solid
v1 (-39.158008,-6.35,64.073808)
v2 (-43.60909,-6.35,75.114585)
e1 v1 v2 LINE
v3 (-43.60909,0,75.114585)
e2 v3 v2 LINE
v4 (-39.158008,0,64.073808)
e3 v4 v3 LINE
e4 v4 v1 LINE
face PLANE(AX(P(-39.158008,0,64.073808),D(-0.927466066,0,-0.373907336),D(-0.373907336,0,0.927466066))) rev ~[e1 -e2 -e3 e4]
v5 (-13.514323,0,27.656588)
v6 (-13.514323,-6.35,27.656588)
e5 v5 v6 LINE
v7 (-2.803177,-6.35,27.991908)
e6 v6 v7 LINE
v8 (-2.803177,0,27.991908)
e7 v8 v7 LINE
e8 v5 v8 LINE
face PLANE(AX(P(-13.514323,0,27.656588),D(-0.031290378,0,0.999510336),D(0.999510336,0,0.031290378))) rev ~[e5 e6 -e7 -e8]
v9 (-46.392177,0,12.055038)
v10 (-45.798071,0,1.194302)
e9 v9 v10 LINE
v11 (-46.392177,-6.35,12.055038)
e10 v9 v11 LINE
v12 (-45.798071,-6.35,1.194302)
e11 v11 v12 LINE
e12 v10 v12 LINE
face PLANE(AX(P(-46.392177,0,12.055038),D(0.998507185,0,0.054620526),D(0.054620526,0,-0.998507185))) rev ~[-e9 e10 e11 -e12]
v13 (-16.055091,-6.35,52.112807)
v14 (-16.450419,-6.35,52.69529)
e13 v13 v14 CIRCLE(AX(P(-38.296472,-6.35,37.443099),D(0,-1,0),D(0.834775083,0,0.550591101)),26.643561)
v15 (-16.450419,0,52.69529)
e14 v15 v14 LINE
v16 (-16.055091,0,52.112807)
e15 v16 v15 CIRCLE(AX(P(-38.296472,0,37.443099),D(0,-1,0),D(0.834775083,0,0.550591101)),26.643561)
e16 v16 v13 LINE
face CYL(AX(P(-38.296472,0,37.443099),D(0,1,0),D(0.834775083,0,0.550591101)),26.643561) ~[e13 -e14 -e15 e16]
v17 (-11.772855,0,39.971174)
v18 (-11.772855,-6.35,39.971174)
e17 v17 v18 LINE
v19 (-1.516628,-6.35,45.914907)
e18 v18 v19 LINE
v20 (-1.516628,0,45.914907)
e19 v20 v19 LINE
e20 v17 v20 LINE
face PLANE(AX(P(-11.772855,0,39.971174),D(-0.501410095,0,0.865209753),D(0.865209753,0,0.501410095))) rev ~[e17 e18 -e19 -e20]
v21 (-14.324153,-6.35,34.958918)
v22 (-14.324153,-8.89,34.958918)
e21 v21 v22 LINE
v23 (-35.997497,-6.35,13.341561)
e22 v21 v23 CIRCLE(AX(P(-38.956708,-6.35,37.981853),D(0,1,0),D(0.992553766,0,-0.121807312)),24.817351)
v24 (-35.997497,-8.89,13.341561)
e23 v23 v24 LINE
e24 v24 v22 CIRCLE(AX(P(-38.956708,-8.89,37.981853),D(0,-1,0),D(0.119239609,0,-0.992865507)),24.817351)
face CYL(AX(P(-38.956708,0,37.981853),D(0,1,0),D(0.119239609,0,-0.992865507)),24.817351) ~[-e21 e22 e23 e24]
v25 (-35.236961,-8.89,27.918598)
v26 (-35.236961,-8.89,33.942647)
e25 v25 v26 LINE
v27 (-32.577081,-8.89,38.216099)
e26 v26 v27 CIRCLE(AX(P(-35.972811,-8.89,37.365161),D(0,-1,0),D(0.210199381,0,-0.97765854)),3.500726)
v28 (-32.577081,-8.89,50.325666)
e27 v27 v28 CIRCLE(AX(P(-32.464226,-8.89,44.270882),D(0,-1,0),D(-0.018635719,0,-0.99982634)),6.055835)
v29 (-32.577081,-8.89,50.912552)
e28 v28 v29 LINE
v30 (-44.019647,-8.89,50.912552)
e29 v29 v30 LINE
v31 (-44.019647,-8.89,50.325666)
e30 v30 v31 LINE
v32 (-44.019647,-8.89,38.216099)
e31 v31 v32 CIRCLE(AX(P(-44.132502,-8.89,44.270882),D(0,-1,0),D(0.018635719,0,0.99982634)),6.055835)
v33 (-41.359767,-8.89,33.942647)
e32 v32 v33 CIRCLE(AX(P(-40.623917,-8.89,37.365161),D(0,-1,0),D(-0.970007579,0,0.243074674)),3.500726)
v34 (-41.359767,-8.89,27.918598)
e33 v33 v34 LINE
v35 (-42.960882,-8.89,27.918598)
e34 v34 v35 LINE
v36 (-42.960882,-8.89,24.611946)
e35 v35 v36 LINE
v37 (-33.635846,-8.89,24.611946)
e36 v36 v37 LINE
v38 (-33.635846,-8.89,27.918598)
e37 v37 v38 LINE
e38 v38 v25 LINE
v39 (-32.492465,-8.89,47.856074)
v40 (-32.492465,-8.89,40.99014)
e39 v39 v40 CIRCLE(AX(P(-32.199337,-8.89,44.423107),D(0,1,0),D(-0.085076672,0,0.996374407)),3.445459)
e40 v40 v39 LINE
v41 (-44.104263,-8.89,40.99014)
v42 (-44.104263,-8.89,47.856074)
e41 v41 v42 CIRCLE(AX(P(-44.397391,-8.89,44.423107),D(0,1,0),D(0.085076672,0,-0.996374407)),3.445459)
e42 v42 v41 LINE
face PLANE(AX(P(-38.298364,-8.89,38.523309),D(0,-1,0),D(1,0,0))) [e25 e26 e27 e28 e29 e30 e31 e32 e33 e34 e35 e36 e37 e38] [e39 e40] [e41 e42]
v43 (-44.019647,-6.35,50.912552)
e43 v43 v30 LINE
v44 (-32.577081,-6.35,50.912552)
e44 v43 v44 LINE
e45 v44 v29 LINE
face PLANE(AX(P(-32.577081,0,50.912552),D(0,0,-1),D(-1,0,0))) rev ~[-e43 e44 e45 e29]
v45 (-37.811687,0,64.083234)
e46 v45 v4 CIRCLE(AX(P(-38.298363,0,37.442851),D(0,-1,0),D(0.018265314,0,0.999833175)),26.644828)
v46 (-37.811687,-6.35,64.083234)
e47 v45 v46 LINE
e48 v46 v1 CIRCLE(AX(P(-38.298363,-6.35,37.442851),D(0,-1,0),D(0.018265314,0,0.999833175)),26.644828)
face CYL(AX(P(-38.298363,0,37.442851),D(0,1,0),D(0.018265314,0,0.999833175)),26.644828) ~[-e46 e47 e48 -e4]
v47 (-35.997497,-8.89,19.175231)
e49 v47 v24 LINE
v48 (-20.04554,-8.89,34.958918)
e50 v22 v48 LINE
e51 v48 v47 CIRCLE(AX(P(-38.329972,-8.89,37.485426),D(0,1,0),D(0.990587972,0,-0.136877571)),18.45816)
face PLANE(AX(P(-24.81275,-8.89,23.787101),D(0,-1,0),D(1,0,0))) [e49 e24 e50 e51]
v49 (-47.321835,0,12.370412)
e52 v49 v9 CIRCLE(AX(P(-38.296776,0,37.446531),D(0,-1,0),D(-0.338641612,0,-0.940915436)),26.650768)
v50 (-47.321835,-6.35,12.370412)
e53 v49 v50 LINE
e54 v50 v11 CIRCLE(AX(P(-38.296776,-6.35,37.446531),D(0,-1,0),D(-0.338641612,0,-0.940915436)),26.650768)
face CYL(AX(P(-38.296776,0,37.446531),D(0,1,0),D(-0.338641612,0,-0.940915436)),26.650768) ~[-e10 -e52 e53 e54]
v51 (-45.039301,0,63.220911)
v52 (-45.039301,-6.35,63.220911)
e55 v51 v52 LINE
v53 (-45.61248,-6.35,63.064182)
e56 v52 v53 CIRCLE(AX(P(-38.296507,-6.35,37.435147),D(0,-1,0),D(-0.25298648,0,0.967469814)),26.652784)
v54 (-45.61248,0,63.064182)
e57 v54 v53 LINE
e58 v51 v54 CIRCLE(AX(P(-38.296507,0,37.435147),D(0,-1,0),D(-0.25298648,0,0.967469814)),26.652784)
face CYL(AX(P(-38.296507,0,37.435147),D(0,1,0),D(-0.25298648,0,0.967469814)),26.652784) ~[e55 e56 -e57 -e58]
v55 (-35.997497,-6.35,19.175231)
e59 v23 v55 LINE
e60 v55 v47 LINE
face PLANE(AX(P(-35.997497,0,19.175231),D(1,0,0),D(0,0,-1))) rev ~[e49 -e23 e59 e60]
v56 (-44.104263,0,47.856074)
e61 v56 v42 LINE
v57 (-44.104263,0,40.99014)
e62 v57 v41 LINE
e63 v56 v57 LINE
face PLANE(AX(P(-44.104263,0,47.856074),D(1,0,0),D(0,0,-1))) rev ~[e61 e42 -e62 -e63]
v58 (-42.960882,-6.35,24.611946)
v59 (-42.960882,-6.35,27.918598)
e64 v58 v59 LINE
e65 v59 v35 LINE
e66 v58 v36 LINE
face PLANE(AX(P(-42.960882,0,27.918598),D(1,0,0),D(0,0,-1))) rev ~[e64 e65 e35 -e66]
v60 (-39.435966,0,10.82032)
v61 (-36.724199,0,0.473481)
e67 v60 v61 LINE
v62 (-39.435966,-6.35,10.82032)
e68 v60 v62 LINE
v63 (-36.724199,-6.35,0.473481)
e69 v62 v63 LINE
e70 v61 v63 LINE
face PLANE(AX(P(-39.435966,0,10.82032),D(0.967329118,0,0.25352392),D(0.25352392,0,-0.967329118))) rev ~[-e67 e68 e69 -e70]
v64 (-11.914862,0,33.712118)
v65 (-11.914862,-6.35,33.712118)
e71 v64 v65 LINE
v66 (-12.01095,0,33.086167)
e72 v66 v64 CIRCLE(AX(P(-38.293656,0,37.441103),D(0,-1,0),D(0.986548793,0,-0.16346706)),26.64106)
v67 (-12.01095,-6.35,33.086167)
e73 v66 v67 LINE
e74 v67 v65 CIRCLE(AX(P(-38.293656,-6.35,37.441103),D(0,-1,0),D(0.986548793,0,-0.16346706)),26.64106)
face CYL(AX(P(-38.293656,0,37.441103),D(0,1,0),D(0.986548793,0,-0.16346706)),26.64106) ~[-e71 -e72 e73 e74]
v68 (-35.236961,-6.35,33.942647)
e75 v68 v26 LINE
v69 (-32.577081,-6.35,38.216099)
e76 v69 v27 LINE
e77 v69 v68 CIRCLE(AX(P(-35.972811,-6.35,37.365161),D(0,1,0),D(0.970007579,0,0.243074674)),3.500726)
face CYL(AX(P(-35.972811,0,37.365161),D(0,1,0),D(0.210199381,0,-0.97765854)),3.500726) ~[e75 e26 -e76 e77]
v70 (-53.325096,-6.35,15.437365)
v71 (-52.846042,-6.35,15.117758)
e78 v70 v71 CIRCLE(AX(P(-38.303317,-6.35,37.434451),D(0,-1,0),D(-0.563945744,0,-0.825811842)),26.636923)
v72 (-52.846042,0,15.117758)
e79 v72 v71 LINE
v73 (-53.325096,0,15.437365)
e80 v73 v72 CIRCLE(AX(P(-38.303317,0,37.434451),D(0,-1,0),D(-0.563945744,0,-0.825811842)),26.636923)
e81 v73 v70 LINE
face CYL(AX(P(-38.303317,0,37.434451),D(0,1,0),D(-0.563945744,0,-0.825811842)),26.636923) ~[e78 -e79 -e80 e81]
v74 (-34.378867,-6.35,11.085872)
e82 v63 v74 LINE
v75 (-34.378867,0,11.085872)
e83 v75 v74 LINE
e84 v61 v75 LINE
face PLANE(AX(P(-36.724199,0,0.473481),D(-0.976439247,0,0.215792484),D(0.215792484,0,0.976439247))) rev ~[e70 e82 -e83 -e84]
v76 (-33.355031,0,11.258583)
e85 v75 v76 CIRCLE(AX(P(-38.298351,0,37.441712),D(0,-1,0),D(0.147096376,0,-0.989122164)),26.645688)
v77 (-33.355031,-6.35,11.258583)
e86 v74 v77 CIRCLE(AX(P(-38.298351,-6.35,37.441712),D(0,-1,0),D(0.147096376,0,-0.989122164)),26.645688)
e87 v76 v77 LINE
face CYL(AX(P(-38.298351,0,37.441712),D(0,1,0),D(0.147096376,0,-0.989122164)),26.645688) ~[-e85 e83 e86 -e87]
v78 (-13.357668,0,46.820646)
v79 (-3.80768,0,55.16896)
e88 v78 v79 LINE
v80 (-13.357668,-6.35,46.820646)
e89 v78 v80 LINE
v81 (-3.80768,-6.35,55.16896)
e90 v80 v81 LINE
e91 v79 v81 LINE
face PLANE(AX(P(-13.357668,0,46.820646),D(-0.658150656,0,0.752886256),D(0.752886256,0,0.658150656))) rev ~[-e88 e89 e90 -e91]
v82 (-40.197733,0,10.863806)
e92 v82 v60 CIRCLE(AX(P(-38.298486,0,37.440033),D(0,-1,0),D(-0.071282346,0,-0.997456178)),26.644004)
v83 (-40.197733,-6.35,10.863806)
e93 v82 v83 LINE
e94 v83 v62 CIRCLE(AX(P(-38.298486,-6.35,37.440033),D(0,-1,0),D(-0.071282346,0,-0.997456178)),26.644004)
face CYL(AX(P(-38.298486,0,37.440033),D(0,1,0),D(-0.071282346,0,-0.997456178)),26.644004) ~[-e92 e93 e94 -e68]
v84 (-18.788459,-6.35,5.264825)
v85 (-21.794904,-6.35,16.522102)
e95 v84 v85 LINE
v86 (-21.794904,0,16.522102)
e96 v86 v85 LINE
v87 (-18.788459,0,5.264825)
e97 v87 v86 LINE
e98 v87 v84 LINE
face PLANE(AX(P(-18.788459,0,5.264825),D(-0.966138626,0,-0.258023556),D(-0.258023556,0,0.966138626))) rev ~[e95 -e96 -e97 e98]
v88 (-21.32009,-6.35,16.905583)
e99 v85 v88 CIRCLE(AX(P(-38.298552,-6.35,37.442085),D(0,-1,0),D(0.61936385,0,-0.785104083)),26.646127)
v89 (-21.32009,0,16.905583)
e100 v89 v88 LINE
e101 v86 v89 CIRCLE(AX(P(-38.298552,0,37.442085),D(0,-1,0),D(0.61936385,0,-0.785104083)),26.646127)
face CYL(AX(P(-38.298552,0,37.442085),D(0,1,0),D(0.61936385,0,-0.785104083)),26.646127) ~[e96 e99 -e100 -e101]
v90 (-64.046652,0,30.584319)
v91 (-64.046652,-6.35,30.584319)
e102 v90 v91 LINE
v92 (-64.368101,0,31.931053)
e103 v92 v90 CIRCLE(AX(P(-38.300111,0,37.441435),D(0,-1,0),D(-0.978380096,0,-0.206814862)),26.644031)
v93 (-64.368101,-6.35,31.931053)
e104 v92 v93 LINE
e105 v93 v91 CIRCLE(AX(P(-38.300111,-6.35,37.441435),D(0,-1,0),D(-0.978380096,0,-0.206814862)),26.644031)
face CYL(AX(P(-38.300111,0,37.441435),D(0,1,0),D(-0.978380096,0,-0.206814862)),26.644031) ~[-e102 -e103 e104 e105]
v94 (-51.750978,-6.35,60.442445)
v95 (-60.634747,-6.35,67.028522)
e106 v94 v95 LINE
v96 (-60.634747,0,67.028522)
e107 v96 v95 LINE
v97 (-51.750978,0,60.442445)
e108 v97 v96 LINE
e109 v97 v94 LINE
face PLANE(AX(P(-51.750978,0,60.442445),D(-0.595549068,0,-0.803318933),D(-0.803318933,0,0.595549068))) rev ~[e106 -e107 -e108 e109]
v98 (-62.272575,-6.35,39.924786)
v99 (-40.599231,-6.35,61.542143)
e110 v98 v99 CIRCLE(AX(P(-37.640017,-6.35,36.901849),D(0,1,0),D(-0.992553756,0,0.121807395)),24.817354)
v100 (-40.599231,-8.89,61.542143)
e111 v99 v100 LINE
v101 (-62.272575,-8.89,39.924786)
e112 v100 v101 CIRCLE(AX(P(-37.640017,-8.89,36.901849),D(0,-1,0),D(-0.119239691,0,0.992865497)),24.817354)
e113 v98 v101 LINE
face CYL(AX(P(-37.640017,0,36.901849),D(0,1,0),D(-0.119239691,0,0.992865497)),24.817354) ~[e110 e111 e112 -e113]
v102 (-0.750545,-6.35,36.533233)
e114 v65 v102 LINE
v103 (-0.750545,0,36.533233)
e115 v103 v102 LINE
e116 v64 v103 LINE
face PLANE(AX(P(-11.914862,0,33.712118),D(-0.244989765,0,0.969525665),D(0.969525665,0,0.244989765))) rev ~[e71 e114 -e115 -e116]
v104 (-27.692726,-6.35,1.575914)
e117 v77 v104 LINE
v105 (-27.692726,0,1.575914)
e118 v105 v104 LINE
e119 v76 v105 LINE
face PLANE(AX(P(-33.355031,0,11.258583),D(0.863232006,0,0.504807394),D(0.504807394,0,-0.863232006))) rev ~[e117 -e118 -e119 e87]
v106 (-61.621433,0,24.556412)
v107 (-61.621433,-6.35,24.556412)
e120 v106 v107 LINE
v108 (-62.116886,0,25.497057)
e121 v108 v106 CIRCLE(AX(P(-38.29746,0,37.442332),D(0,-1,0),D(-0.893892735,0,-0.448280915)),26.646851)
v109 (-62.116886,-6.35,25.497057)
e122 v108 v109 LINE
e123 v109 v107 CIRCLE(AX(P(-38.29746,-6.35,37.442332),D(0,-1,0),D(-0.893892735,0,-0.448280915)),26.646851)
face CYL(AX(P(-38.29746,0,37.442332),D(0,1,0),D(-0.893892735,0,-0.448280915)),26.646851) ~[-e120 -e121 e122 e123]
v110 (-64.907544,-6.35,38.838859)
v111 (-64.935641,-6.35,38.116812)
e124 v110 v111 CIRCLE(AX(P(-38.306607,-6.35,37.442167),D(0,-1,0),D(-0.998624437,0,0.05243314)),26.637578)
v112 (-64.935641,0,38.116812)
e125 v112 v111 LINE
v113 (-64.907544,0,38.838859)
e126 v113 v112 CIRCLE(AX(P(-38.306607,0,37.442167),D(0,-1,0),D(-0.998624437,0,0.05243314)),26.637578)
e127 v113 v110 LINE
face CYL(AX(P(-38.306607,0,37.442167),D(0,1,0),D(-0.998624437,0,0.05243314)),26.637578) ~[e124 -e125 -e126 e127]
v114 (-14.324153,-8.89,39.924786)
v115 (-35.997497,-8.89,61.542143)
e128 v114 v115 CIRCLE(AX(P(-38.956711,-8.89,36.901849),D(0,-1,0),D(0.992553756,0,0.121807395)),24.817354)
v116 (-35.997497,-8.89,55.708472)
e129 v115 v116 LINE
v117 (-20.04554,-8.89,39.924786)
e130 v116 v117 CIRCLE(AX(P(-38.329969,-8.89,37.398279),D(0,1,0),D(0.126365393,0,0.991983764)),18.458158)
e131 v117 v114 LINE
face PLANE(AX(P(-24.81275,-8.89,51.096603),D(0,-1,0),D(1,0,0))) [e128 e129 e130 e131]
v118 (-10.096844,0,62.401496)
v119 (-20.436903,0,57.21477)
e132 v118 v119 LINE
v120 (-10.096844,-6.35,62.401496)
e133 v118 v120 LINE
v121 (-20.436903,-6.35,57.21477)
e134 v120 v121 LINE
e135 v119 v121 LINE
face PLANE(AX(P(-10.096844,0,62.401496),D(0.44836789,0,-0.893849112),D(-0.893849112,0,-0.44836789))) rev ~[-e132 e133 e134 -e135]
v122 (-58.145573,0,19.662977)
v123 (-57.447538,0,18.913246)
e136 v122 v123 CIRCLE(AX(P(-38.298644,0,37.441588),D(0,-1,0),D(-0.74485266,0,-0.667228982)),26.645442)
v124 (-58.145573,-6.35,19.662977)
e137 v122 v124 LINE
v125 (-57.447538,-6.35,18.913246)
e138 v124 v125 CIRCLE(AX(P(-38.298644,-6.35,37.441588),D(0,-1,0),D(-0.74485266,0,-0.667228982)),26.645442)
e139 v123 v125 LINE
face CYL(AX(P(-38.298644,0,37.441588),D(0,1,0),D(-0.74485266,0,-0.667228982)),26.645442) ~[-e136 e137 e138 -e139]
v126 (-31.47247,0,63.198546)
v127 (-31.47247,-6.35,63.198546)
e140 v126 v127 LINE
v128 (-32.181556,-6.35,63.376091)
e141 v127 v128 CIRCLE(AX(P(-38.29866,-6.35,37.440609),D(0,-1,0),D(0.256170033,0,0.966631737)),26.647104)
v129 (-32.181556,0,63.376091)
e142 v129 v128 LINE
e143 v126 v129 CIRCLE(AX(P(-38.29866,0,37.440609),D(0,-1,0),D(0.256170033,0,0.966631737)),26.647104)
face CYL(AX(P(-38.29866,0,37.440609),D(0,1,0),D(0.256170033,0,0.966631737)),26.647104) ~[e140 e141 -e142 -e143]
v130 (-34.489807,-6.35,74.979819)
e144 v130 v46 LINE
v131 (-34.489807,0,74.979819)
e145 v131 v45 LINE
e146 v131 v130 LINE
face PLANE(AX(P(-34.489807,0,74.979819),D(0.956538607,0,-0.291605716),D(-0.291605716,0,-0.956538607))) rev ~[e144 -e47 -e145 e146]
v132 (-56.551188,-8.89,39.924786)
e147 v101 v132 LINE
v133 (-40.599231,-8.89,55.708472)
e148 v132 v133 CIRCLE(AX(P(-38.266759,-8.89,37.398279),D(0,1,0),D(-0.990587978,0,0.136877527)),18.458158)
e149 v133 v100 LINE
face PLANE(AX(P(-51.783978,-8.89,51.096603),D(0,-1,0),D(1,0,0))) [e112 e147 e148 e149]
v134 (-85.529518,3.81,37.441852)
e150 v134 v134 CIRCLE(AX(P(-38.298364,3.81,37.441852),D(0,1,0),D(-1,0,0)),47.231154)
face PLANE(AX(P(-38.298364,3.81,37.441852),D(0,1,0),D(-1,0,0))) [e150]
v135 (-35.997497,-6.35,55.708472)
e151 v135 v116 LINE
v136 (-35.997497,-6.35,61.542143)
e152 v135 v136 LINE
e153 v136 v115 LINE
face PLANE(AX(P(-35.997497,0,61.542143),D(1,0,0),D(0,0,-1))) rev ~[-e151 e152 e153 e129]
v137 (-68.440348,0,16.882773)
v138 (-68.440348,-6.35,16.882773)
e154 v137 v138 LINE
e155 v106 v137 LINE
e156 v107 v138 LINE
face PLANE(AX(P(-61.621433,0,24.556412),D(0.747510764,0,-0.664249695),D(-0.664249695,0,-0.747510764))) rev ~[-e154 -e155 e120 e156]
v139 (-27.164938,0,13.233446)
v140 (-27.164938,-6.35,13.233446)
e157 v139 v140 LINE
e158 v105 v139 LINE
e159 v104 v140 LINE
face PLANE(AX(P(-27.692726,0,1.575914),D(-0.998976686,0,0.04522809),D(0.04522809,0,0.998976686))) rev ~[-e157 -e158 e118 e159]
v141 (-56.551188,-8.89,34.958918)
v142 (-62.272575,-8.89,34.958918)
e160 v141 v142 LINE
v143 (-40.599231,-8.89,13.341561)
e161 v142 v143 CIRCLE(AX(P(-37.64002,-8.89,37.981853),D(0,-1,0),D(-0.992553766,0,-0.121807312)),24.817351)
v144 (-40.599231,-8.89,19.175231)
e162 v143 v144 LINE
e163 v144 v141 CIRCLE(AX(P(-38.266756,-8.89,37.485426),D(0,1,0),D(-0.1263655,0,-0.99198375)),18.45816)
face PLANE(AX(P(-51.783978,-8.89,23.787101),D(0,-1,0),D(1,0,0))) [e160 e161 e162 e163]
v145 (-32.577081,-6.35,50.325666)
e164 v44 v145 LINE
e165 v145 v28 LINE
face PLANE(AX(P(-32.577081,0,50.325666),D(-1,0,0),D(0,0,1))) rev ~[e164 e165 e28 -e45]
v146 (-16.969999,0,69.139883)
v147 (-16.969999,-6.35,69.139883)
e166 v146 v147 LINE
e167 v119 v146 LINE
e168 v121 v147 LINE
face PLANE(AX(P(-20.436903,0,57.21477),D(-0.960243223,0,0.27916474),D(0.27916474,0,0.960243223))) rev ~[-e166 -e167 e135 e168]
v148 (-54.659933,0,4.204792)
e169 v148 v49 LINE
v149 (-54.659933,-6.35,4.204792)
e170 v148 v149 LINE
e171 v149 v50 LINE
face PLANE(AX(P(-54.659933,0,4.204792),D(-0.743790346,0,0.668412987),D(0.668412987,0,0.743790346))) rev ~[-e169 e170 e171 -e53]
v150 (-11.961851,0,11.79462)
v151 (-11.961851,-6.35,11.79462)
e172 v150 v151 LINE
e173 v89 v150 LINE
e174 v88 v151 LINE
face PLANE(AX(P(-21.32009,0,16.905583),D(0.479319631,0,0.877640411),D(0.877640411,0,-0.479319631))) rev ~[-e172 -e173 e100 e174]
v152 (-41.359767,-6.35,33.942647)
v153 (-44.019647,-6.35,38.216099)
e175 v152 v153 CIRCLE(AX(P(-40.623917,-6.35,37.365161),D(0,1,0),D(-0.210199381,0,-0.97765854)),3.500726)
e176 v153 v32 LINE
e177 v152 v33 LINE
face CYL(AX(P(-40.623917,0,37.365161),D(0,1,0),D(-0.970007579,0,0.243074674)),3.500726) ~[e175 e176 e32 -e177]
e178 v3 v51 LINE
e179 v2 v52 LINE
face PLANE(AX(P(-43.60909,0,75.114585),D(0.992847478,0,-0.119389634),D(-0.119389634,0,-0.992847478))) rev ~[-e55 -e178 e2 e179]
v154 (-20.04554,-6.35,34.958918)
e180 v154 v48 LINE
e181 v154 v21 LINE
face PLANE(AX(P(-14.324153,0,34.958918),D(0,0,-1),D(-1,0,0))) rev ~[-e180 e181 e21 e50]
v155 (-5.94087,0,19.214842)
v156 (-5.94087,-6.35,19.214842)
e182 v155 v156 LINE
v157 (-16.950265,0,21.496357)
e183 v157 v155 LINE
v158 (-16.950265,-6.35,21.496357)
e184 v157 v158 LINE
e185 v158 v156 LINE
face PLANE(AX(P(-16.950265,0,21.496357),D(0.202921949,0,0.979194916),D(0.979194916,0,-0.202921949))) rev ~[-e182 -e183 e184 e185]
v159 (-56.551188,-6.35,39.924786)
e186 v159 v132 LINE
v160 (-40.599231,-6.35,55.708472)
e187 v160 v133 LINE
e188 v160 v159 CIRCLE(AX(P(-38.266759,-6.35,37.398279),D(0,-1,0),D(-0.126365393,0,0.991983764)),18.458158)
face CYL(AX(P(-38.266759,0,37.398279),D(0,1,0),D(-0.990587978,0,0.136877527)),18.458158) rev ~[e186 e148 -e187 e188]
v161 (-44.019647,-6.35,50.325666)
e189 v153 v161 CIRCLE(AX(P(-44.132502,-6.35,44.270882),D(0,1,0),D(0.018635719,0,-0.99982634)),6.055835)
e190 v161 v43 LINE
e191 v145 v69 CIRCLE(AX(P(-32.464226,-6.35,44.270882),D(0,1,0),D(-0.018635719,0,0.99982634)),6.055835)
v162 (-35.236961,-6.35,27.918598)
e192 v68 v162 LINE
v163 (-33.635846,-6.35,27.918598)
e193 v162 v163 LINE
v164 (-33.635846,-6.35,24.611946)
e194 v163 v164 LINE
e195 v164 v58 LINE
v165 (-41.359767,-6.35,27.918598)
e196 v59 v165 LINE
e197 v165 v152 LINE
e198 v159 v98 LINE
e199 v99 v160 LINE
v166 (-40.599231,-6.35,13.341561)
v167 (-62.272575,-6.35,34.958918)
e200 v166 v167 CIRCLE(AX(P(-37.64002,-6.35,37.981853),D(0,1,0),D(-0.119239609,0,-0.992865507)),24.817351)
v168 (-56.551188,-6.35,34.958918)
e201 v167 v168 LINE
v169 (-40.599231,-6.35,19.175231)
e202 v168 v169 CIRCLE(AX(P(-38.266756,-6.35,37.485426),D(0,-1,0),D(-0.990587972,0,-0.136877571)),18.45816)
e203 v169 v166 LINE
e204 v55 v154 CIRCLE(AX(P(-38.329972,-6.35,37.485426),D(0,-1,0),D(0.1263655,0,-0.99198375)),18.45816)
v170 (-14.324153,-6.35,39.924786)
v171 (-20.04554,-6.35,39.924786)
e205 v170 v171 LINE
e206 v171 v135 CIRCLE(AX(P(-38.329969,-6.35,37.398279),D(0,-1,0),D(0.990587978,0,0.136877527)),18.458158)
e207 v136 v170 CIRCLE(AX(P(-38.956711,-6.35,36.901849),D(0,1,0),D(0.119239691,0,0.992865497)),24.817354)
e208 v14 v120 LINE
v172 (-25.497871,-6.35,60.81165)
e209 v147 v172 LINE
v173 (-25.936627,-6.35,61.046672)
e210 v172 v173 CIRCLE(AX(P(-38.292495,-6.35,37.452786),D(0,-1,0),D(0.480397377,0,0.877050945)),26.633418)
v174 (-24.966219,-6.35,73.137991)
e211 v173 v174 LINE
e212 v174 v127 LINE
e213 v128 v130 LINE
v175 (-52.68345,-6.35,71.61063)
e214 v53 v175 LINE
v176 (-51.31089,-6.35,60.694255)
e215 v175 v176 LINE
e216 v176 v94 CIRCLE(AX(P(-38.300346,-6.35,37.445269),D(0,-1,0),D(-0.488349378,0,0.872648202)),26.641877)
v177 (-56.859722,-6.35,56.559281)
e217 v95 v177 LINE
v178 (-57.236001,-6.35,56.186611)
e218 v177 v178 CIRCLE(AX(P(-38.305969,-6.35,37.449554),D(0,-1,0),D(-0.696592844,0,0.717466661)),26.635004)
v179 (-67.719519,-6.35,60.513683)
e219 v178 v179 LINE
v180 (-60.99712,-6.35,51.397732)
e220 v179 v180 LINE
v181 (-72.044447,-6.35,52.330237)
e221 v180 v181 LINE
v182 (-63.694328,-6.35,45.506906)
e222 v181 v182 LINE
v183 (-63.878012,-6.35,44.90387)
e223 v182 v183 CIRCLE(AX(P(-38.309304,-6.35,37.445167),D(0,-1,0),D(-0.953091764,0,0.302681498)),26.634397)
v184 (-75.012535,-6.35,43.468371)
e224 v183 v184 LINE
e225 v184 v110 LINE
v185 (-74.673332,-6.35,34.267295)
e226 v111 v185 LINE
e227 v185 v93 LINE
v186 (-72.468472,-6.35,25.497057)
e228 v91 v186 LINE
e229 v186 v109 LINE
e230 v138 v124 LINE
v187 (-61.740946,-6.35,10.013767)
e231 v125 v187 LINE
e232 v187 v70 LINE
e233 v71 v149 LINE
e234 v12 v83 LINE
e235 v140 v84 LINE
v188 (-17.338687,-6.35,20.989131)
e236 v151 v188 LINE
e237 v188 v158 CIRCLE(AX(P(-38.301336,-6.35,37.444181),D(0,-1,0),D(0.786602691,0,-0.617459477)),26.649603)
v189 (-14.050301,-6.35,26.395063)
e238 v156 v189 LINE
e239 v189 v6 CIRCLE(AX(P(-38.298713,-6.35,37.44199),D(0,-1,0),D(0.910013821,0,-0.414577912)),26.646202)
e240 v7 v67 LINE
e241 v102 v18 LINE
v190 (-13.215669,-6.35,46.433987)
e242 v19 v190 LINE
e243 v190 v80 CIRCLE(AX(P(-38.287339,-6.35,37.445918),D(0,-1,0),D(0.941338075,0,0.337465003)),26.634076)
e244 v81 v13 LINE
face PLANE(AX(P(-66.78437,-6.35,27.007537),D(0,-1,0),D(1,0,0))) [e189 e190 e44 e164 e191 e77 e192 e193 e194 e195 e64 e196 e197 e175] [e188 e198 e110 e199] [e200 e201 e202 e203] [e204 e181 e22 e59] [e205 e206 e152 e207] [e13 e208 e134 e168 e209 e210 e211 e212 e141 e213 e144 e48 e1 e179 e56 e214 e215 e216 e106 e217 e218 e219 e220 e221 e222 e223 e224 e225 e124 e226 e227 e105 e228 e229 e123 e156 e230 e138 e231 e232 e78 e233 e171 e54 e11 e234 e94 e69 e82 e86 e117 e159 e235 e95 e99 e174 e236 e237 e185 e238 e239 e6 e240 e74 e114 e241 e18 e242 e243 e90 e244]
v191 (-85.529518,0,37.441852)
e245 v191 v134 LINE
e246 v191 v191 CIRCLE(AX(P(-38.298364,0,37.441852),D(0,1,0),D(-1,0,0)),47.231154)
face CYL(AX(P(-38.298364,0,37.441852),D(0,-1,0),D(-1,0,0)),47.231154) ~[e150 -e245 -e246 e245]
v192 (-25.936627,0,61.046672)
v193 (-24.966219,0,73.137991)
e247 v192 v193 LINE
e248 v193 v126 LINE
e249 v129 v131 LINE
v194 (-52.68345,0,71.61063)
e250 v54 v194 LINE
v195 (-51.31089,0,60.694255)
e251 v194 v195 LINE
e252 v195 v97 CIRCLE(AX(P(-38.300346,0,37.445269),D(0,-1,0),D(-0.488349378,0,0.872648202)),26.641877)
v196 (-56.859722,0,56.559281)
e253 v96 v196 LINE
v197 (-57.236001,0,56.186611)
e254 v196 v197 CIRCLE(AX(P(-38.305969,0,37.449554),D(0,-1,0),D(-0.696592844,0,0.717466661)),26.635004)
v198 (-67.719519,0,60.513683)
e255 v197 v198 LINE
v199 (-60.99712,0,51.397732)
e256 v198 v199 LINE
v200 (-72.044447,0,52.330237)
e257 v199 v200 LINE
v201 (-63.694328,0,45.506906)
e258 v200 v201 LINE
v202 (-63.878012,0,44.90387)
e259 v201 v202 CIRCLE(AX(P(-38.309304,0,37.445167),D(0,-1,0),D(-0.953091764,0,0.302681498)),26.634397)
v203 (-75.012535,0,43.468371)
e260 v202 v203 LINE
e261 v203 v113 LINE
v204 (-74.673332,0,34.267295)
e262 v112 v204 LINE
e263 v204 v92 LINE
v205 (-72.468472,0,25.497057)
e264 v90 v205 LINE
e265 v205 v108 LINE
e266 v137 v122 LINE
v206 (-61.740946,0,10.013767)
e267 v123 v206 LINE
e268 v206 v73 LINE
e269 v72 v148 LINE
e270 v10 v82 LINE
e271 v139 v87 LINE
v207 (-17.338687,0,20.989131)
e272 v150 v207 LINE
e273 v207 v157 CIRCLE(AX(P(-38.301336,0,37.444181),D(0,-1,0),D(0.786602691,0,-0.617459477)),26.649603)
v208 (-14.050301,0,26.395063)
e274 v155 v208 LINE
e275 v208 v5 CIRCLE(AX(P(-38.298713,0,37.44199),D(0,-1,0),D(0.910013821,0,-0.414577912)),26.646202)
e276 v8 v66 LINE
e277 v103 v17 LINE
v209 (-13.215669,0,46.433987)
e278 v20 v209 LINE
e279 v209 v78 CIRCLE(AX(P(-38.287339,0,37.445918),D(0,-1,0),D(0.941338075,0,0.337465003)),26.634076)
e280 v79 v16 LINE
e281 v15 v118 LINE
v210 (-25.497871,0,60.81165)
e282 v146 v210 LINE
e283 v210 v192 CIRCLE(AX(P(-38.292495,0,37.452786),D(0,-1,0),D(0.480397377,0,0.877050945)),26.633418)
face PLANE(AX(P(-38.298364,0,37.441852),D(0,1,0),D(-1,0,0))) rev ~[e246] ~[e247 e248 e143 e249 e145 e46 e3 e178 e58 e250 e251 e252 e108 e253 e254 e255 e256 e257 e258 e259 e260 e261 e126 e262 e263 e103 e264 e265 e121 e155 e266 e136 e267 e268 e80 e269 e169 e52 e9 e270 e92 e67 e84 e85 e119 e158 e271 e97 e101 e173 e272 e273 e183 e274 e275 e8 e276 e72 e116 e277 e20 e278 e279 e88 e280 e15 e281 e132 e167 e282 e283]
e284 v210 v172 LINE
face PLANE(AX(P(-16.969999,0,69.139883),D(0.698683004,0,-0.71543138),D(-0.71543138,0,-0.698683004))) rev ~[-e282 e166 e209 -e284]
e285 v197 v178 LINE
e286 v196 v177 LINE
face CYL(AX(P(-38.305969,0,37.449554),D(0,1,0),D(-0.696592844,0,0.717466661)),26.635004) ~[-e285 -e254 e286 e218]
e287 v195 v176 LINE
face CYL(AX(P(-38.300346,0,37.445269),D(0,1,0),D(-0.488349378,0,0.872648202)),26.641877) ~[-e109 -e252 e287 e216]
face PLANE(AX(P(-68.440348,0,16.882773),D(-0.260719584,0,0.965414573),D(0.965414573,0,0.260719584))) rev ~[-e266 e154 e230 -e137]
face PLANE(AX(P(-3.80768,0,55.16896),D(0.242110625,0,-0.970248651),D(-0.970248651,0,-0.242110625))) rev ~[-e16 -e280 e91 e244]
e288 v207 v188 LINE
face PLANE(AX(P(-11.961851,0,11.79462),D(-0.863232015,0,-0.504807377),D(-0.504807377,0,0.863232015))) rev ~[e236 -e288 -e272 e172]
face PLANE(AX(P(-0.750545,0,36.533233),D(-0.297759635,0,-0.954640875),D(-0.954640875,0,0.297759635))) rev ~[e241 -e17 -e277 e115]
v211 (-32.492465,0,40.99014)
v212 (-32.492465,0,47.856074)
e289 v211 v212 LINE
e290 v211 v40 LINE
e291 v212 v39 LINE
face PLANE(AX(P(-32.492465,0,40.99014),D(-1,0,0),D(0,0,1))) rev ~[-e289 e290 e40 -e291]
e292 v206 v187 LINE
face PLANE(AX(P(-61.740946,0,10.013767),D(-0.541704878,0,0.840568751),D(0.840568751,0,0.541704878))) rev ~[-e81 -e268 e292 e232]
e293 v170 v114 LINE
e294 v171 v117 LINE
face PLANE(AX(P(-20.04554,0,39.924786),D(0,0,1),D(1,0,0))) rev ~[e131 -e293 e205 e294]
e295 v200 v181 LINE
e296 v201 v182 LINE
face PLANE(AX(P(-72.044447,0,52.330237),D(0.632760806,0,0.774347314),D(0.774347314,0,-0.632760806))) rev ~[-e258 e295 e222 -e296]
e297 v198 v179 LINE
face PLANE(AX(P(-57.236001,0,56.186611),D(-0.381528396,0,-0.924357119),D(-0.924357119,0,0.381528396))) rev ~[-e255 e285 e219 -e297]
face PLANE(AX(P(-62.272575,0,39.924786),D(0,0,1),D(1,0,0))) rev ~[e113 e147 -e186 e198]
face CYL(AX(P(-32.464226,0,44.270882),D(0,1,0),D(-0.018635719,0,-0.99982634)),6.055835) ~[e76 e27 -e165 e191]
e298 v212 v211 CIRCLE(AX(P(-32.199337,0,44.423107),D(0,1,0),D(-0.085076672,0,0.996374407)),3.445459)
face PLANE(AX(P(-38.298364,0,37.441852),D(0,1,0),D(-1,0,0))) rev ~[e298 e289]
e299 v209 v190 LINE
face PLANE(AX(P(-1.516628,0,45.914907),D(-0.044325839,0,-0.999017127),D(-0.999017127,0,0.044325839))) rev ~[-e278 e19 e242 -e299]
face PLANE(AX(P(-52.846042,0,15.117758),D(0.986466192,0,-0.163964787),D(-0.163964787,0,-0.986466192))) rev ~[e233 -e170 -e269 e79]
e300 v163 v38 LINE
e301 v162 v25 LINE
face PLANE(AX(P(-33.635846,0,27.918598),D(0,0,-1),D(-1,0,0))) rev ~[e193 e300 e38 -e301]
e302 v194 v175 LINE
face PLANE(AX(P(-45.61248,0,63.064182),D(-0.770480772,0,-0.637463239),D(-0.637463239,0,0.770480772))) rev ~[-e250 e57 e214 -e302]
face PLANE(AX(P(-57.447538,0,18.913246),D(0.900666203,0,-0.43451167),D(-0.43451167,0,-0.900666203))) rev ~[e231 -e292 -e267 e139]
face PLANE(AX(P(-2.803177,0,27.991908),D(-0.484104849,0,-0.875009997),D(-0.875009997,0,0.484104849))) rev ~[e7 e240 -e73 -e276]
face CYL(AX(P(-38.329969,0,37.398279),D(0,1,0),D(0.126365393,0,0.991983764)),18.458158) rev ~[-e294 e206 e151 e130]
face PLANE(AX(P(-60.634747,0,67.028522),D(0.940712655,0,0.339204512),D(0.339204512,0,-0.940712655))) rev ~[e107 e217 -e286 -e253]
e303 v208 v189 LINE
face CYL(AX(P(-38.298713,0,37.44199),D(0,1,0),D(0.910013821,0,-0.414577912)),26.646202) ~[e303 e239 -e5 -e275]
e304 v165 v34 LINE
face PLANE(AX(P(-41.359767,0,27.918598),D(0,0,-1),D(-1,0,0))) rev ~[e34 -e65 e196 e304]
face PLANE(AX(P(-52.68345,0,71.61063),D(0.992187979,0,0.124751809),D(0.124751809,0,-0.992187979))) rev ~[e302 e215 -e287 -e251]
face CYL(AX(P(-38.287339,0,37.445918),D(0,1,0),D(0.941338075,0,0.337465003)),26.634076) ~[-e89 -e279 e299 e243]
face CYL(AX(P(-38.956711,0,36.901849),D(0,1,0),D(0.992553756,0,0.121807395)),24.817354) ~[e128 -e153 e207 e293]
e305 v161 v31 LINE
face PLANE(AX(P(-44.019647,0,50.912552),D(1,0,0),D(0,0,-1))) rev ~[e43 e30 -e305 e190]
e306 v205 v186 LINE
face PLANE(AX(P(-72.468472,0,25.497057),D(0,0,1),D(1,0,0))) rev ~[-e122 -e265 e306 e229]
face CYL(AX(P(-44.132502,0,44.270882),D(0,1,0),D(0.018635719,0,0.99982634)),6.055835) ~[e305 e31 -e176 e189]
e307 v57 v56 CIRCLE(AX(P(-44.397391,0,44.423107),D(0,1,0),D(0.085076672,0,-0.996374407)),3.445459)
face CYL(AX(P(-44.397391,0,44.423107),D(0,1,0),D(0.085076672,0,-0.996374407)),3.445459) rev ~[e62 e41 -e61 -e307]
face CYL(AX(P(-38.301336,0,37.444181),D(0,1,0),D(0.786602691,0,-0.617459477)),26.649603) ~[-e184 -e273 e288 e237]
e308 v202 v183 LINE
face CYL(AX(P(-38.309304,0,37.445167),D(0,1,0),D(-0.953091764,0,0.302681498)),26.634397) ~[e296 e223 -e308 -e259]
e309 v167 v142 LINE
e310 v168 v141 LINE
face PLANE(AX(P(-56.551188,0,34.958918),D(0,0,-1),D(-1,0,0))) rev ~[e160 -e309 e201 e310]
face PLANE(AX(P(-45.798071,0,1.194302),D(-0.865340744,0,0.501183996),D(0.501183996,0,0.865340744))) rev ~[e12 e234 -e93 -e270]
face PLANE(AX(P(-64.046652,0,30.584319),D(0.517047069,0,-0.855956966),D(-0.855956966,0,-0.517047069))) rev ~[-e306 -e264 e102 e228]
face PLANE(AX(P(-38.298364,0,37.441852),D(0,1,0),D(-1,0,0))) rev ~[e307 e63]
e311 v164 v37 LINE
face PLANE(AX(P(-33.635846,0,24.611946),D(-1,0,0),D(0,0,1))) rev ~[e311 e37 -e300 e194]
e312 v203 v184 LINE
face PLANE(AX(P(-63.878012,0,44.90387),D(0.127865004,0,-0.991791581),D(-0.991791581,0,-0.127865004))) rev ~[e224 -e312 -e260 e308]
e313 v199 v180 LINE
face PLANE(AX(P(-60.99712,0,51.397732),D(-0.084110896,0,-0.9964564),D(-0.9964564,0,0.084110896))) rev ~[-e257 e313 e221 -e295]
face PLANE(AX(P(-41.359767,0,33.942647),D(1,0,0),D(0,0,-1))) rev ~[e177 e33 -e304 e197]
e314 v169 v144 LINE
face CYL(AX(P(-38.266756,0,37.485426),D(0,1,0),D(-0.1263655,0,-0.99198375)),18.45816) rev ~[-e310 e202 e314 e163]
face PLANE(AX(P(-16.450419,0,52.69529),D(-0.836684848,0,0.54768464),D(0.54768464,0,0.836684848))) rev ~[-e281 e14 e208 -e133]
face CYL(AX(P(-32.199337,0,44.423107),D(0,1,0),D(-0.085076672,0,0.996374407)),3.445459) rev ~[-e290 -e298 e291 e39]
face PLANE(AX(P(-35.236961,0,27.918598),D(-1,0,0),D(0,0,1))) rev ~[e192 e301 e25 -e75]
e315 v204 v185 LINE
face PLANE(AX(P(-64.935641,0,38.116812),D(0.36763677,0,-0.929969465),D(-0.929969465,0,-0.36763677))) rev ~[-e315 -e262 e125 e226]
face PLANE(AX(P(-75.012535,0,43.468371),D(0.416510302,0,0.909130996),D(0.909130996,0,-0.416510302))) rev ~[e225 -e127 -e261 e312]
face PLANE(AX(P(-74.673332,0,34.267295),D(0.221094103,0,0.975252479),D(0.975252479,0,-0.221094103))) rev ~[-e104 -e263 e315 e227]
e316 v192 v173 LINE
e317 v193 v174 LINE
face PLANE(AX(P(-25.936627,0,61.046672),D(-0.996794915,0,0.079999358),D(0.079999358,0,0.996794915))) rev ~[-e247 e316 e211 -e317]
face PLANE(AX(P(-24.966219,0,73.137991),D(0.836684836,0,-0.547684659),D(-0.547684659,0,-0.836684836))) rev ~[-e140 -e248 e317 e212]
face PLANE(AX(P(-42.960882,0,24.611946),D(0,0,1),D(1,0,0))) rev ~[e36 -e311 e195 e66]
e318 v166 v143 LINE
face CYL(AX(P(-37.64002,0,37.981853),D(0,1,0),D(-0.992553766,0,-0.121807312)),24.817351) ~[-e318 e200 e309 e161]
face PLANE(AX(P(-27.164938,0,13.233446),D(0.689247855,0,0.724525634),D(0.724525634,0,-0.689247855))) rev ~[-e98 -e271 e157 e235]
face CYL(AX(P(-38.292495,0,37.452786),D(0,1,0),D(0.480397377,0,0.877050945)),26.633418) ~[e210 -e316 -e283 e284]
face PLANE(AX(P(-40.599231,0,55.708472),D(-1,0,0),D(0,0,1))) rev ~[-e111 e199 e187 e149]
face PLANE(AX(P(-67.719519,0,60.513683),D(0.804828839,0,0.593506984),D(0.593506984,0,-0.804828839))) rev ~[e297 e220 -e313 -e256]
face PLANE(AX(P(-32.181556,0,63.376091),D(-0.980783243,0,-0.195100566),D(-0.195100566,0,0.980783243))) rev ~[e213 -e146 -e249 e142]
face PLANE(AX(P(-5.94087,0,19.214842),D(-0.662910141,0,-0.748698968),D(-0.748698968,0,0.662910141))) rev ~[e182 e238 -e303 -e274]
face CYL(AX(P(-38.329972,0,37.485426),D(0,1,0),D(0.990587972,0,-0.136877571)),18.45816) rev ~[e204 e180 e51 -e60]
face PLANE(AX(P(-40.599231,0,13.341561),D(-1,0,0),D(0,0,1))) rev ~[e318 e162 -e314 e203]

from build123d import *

# Parameters (mm, degrees)
F1_DEPTH = 6.35
F2_DEPTH = 8.89
F3_R     = 47.231154
F4_DEPTH = 3.81


with BuildPart() as f1:
    # F0 (on Front) → F1 (new body)
    with BuildSketch(Plane.XZ):
        with BuildLine():
            Line((-72.468472, 25.497057), (-62.116886, 25.497057))
            ThreePointArc((-62.116886, 25.497057), (-63.211959, 27.991302), (-64.046652, 30.584319))
            Line((-64.046652, 30.584319), (-72.468472, 25.497057))
        make_face()
        with BuildLine():
            Line((-68.440348, 16.882773), (-58.145573, 19.662977))
            ThreePointArc((-58.145573, 19.662977), (-60.02173, 22.01151), (-61.621433, 24.556412))
            Line((-61.621433, 24.556412), (-68.440348, 16.882773))
        make_face()
        with BuildLine():
            Line((-61.740946, 10.013767), (-53.325096, 15.437365))
            ThreePointArc((-53.325096, 15.437365), (-55.474469, 17.070756), (-57.447538, 18.913246))
            Line((-57.447538, 18.913246), (-61.740946, 10.013767))
        make_face()
        with BuildLine():
            Line((-54.659933, 4.204792), (-47.321835, 12.370412))
            ThreePointArc((-47.321835, 12.370412), (-50.163723, 13.583659), (-52.846042, 15.117758))
            Line((-52.846042, 15.117758), (-54.659933, 4.204792))
        make_face()
        with BuildLine():
            Line((-45.798071, 1.194302), (-40.197733, 10.863806))
            ThreePointArc((-40.197733, 10.863806), (-43.33033, 11.275472), (-46.392177, 12.055038))
            Line((-46.392177, 12.055038), (-45.798071, 1.194302))
        make_face()
        with BuildLine():
            Line((-27.692726, 1.575914), (-27.164938, 13.233446))
            ThreePointArc((-27.164938, 13.233446), (-30.199563, 12.056629), (-33.355031, 11.258583))
            Line((-33.355031, 11.258583), (-27.692726, 1.575914))
        make_face()
        with BuildLine():
            Line((-36.724199, 0.473481), (-34.378867, 11.085872))
            ThreePointArc((-34.378867, 11.085872), (-36.901094, 10.832685), (-39.435966, 10.82032))
            Line((-39.435966, 10.82032), (-36.724199, 0.473481))
        make_face()
        with BuildLine():
            Line((-18.788459, 5.264825), (-21.794904, 16.522102))
            ThreePointArc((-21.794904, 16.522102), (-24.382431, 14.718584), (-27.164938, 13.233446))
            Line((-27.164938, 13.233446), (-18.788459, 5.264825))
        make_face()
        with BuildLine():
            Line((-11.961851, 11.79462), (-17.338687, 20.989131))
            ThreePointArc((-17.338687, 20.989131), (-19.219819, 18.840528), (-21.32009, 16.905583))
            Line((-21.32009, 16.905583), (-11.961851, 11.79462))
        make_face()
        with BuildLine():
            Line((-5.94087, 19.214842), (-14.050301, 26.395063))
            ThreePointArc((-14.050301, 26.395063), (-15.369085, 23.868043), (-16.950265, 21.496357))
            Line((-16.950265, 21.496357), (-5.94087, 19.214842))
        make_face()
        with BuildLine():
            Line((-2.803177, 27.991908), (-12.01095, 33.086167))
            ThreePointArc((-12.01095, 33.086167), (-12.618733, 30.331533), (-13.514323, 27.656588))
            Line((-13.514323, 27.656588), (-2.803177, 27.991908))
        make_face()
        with BuildLine():
            ThreePointArc((-11.772855, 39.971174), (-11.682633, 38.707943), (-11.652537, 37.441852))
            ThreePointArc((-11.652537, 37.441852), (-11.718199, 35.572378), (-11.914862, 33.712118))
            Line((-11.914862, 33.712118), (-0.750545, 36.533233))
            Line((-0.750545, 36.533233), (-11.772855, 39.971174))
        make_face()
        with BuildLine():
            ThreePointArc((-13.215669, 46.433987), (-12.292717, 43.247575), (-11.772855, 39.971174))
            Line((-11.772855, 39.971174), (-1.516628, 45.914907))
            Line((-1.516628, 45.914907), (-13.215669, 46.433987))
        make_face()
        with BuildLine():
            ThreePointArc((-16.055091, 52.112807), (-14.558451, 49.542126), (-13.357668, 46.820646))
            Line((-13.357668, 46.820646), (-3.80768, 55.16896))
            Line((-3.80768, 55.16896), (-16.055091, 52.112807))
        make_face()
        with BuildLine():
            ThreePointArc((-20.436903, 57.21477), (-18.31548, 55.068095), (-16.450419, 52.69529))
            Line((-16.450419, 52.69529), (-10.096844, 62.401496))
            Line((-10.096844, 62.401496), (-20.436903, 57.21477))
        make_face()
        with BuildLine():
            ThreePointArc((-25.497871, 60.81165), (-22.862262, 59.161126), (-20.436903, 57.21477))
            Line((-20.436903, 57.21477), (-16.969999, 69.139883))
            Line((-16.969999, 69.139883), (-25.497871, 60.81165))
        make_face()
        with BuildLine():
            ThreePointArc((-31.47247, 63.198546), (-28.644405, 62.277334), (-25.936627, 61.046672))
            Line((-25.936627, 61.046672), (-24.966219, 73.137991))
            Line((-24.966219, 73.137991), (-31.47247, 63.198546))
        make_face()
        with BuildLine():
            ThreePointArc((-37.811687, 64.083234), (-34.977744, 63.87996), (-32.181556, 63.376091))
            Line((-32.181556, 63.376091), (-34.489807, 74.979819))
            Line((-34.489807, 74.979819), (-37.811687, 64.083234))
        make_face()
        with BuildLine():
            ThreePointArc((-45.039301, 63.220911), (-42.122507, 63.811835), (-39.158008, 64.073808))
            Line((-39.158008, 64.073808), (-43.60909, 75.114585))
            Line((-43.60909, 75.114585), (-45.039301, 63.220911))
        make_face()
        with BuildLine():
            ThreePointArc((-51.31089, 60.694255), (-48.530531, 62.044756), (-45.61248, 63.064182))
            Line((-45.61248, 63.064182), (-52.68345, 71.61063))
            Line((-52.68345, 71.61063), (-51.31089, 60.694255))
        make_face()
        with BuildLine():
            ThreePointArc((-56.859722, 56.559281), (-54.422673, 58.655215), (-51.750978, 60.442445))
            Line((-51.750978, 60.442445), (-60.634747, 67.028522))
            Line((-60.634747, 67.028522), (-56.859722, 56.559281))
        make_face()
        with BuildLine():
            ThreePointArc((-60.99712, 51.397732), (-59.253808, 53.899964), (-57.236001, 56.186611))
            Line((-57.236001, 56.186611), (-67.719519, 60.513683))
            Line((-67.719519, 60.513683), (-60.99712, 51.397732))
        make_face()
        with BuildLine():
            ThreePointArc((-63.694328, 45.506906), (-62.525435, 48.534603), (-60.99712, 51.397732))
            Line((-60.99712, 51.397732), (-72.044447, 52.330237))
            Line((-72.044447, 52.330237), (-63.694328, 45.506906))
        make_face()
        with BuildLine():
            ThreePointArc((-64.907544, 38.838859), (-64.568395, 41.901175), (-63.878012, 44.90387))
            Line((-63.878012, 44.90387), (-75.012535, 43.468371))
            Line((-75.012535, 43.468371), (-64.907544, 38.838859))
        make_face()
        with BuildLine():
            ThreePointArc((-64.368101, 31.931053), (-64.832743, 35.007338), (-64.935641, 38.116812))
            Line((-64.935641, 38.116812), (-74.673332, 34.267295))
            Line((-74.673332, 34.267295), (-64.368101, 31.931053))
        make_face()
        with BuildLine():
            ThreePointArc((-11.914862, 33.712118), (-11.718199, 35.572378), (-11.652537, 37.441852))
            ThreePointArc((-11.652537, 37.441852), (-11.682633, 38.707943), (-11.772855, 39.971174))
            ThreePointArc((-11.772855, 39.971174), (-12.292717, 43.247575), (-13.215669, 46.433987))
            ThreePointArc((-13.215669, 46.433987), (-13.285921, 46.627591), (-13.357668, 46.820646))
            ThreePointArc((-13.357668, 46.820646), (-14.558451, 49.542126), (-16.055091, 52.112807))
            ThreePointArc((-16.055091, 52.112807), (-16.250831, 52.405354), (-16.450419, 52.69529))
            ThreePointArc((-16.450419, 52.69529), (-18.31548, 55.068095), (-20.436903, 57.21477))
            ThreePointArc((-20.436903, 57.21477), (-22.862262, 59.161126), (-25.497871, 60.81165))
            ThreePointArc((-25.497871, 60.81165), (-25.7167, 60.930186), (-25.936627, 61.046672))
            ThreePointArc((-25.936627, 61.046672), (-28.644405, 62.277334), (-31.47247, 63.198546))
            ThreePointArc((-31.47247, 63.198546), (-31.826404, 63.28975), (-32.181556, 63.376091))
            ThreePointArc((-32.181556, 63.376091), (-34.977744, 63.87996), (-37.811687, 64.083234))
            ThreePointArc((-37.811687, 64.083234), (-38.484907, 64.087026), (-39.158008, 64.073808))
            ThreePointArc((-39.158008, 64.073808), (-42.122507, 63.811835), (-45.039301, 63.220911))
            ThreePointArc((-45.039301, 63.220911), (-45.326327, 63.144144), (-45.61248, 63.064182))
            ThreePointArc((-45.61248, 63.064182), (-48.530531, 62.044756), (-51.31089, 60.694255))
            ThreePointArc((-51.31089, 60.694255), (-51.531533, 60.569397), (-51.750978, 60.442445))
            ThreePointArc((-51.750978, 60.442445), (-54.422673, 58.655215), (-56.859722, 56.559281))
            ThreePointArc((-56.859722, 56.559281), (-57.048788, 56.373881), (-57.236001, 56.186611))
            ThreePointArc((-57.236001, 56.186611), (-59.253808, 53.899964), (-60.99712, 51.397732))
            ThreePointArc((-60.99712, 51.397732), (-62.525435, 48.534603), (-63.694328, 45.506906))
            ThreePointArc((-63.694328, 45.506906), (-63.787954, 45.205932), (-63.878012, 44.90387))
            ThreePointArc((-63.878012, 44.90387), (-64.568395, 41.901175), (-64.907544, 38.838859))
            ThreePointArc((-64.907544, 38.838859), (-64.924041, 38.47793), (-64.935641, 38.116812))
            ThreePointArc((-64.935641, 38.116812), (-64.832743, 35.007338), (-64.368101, 31.931053))
            ThreePointArc((-64.368101, 31.931053), (-64.216126, 31.255598), (-64.046652, 30.584319))
            ThreePointArc((-64.046652, 30.584319), (-63.211959, 27.991302), (-62.116886, 25.497057))
            ThreePointArc((-62.116886, 25.497057), (-61.873851, 25.024263), (-61.621433, 24.556412))
            ThreePointArc((-61.621433, 24.556412), (-60.02173, 22.01151), (-58.145573, 19.662977))
            ThreePointArc((-58.145573, 19.662977), (-57.800159, 19.284757), (-57.447538, 18.913246))
            ThreePointArc((-57.447538, 18.913246), (-55.474469, 17.070756), (-53.325096, 15.437365))
            ThreePointArc((-53.325096, 15.437365), (-53.086433, 15.276267), (-52.846042, 15.117758))
            ThreePointArc((-52.846042, 15.117758), (-50.163723, 13.583659), (-47.321835, 12.370412))
            ThreePointArc((-47.321835, 12.370412), (-46.858458, 12.208444), (-46.392177, 12.055038))
            ThreePointArc((-46.392177, 12.055038), (-43.33033, 11.275472), (-40.197733, 10.863806))
            ThreePointArc((-40.197733, 10.863806), (-39.817005, 10.839336), (-39.435966, 10.82032))
            ThreePointArc((-39.435966, 10.82032), (-36.901094, 10.832685), (-34.378867, 11.085872))
            ThreePointArc((-34.378867, 11.085872), (-33.866108, 11.16724), (-33.355031, 11.258583))
            ThreePointArc((-33.355031, 11.258583), (-30.199563, 12.056629), (-27.164938, 13.233446))
            ThreePointArc((-27.164938, 13.233446), (-24.382431, 14.718584), (-21.794904, 16.522102))
            ThreePointArc((-21.794904, 16.522102), (-21.556399, 16.712483), (-21.32009, 16.905583))
            ThreePointArc((-21.32009, 16.905583), (-19.219819, 18.840528), (-17.338687, 20.989131))
            ThreePointArc((-17.338687, 20.989131), (-17.142956, 21.24158), (-16.950265, 21.496357))
            ThreePointArc((-16.950265, 21.496357), (-15.369085, 23.868043), (-14.050301, 26.395063))
            ThreePointArc((-14.050301, 26.395063), (-13.774199, 27.022379), (-13.514323, 27.656588))
            ThreePointArc((-13.514323, 27.656588), (-12.618733, 30.331533), (-12.01095, 33.086167))
            ThreePointArc((-12.01095, 33.086167), (-11.961046, 33.398857), (-11.914862, 33.712118))
        make_face()
        with BuildLine():
            Line((-62.272575, 34.958918), (-56.551188, 34.958918))
            ThreePointArc((-56.551188, 34.958918), (-51.24926, 24.364516), (-40.599231, 19.175231))
            Line((-40.599231, 19.175231), (-40.599231, 13.341561))
            ThreePointArc((-40.599231, 13.341561), (-55.165827, 20.410655), (-62.272575, 34.958918))
        make_face(mode=Mode.SUBTRACT)
        with BuildLine():
            Line((-44.019647, 50.325666), (-44.019647, 50.912552))
            Line((-44.019647, 50.912552), (-38.298364, 50.912552))
            Line((-38.298364, 50.912552), (-32.577081, 50.912552))
            Line((-32.577081, 50.912552), (-32.577081, 50.325666))
            ThreePointArc((-32.577081, 50.325666), (-26.408391, 44.270882), (-32.577081, 38.216099))
            ThreePointArc((-32.577081, 38.216099), (-33.00076, 35.515299), (-35.236961, 33.942647))
            Line((-35.236961, 33.942647), (-35.236961, 27.918598))
            Line((-35.236961, 27.918598), (-33.635846, 27.918598))
            Line((-33.635846, 27.918598), (-33.635846, 24.611946))
            Line((-33.635846, 24.611946), (-38.298364, 24.611946))
            Line((-38.298364, 24.611946), (-42.960882, 24.611946))
            Line((-42.960882, 24.611946), (-42.960882, 27.918598))
            Line((-42.960882, 27.918598), (-41.359767, 27.918598))
            Line((-41.359767, 27.918598), (-41.359767, 33.942647))
            ThreePointArc((-41.359767, 33.942647), (-43.595968, 35.515299), (-44.019647, 38.216099))
            ThreePointArc((-44.019647, 38.216099), (-50.188337, 44.270882), (-44.019647, 50.325666))
        make_face(mode=Mode.SUBTRACT)
        with BuildLine():
            Line((-35.997497, 13.341561), (-35.997497, 19.175231))
            ThreePointArc((-35.997497, 19.175231), (-25.347468, 24.364516), (-20.04554, 34.958918))
            Line((-20.04554, 34.958918), (-14.324153, 34.958918))
            ThreePointArc((-14.324153, 34.958918), (-21.430901, 20.410655), (-35.997497, 13.341561))
        make_face(mode=Mode.SUBTRACT)
        with BuildLine():
            ThreePointArc((-40.599231, 55.708472), (-51.24926, 50.519188), (-56.551188, 39.924786))
            Line((-56.551188, 39.924786), (-62.272575, 39.924786))
            ThreePointArc((-62.272575, 39.924786), (-55.165827, 54.473048), (-40.599231, 61.542143))
            Line((-40.599231, 61.542143), (-40.599231, 55.708472))
        make_face(mode=Mode.SUBTRACT)
        with BuildLine():
            ThreePointArc((-20.04554, 39.924786), (-25.347468, 50.519188), (-35.997497, 55.708472))
            Line((-35.997497, 55.708472), (-35.997497, 61.542143))
            ThreePointArc((-35.997497, 61.542143), (-21.430901, 54.473048), (-14.324153, 39.924786))
            Line((-14.324153, 39.924786), (-20.04554, 39.924786))
        make_face(mode=Mode.SUBTRACT)
    extrude(amount=F1_DEPTH)

    # F0 (on Front) → F2 (join)
    with BuildSketch(Plane.XZ):
        with BuildLine():
            ThreePointArc((-40.599231, 19.175231), (-51.24926, 24.364516), (-56.551188, 34.958918))
            Line((-56.551188, 34.958918), (-62.272575, 34.958918))
            ThreePointArc((-62.272575, 34.958918), (-55.165827, 20.410655), (-40.599231, 13.341561))
            Line((-40.599231, 13.341561), (-40.599231, 19.175231))
        make_face()
        with BuildLine():
            ThreePointArc((-20.04554, 34.958918), (-25.347468, 24.364516), (-35.997497, 19.175231))
            Line((-35.997497, 19.175231), (-35.997497, 13.341561))
            ThreePointArc((-35.997497, 13.341561), (-21.430901, 20.410655), (-14.324153, 34.958918))
            Line((-14.324153, 34.958918), (-20.04554, 34.958918))
        make_face()
        with BuildLine():
            Line((-35.997497, 61.542143), (-35.997497, 55.708472))
            ThreePointArc((-35.997497, 55.708472), (-25.347468, 50.519188), (-20.04554, 39.924786))
            Line((-20.04554, 39.924786), (-14.324153, 39.924786))
            ThreePointArc((-14.324153, 39.924786), (-21.430901, 54.473048), (-35.997497, 61.542143))
        make_face()
        with BuildLine():
            Line((-62.272575, 39.924786), (-56.551188, 39.924786))
            ThreePointArc((-56.551188, 39.924786), (-51.24926, 50.519188), (-40.599231, 55.708472))
            Line((-40.599231, 55.708472), (-40.599231, 61.542143))
            ThreePointArc((-40.599231, 61.542143), (-55.165827, 54.473048), (-62.272575, 39.924786))
        make_face()
        with BuildLine():
            Line((-38.298364, 50.912552), (-44.019647, 50.912552))
            Line((-44.019647, 50.912552), (-44.019647, 50.325666))
            ThreePointArc((-44.019647, 50.325666), (-50.188337, 44.270882), (-44.019647, 38.216099))
            ThreePointArc((-44.019647, 38.216099), (-43.595968, 35.515299), (-41.359767, 33.942647))
            Line((-41.359767, 33.942647), (-41.359767, 27.918598))
            Line((-41.359767, 27.918598), (-42.960882, 27.918598))
            Line((-42.960882, 27.918598), (-42.960882, 24.611946))
            Line((-42.960882, 24.611946), (-38.298364, 24.611946))
            Line((-38.298364, 24.611946), (-33.635846, 24.611946))
            Line((-33.635846, 24.611946), (-33.635846, 27.918598))
            Line((-33.635846, 27.918598), (-35.236961, 27.918598))
            Line((-35.236961, 27.918598), (-35.236961, 33.942647))
            ThreePointArc((-35.236961, 33.942647), (-33.00076, 35.515299), (-32.577081, 38.216099))
            ThreePointArc((-32.577081, 38.216099), (-26.408391, 44.270882), (-32.577081, 50.325666))
            Line((-32.577081, 50.325666), (-32.577081, 50.912552))
            Line((-32.577081, 50.912552), (-38.298364, 50.912552))
        make_face()
        with BuildLine():
            Line((-44.104263, 47.856074), (-44.104263, 40.99014))
            ThreePointArc((-44.104263, 40.99014), (-47.84285, 44.423107), (-44.104263, 47.856074))
        make_face(mode=Mode.SUBTRACT)
        with BuildLine():
            Line((-32.492465, 40.99014), (-32.492465, 47.856074))
            ThreePointArc((-32.492465, 47.856074), (-28.753878, 44.423107), (-32.492465, 40.99014))
        make_face(mode=Mode.SUBTRACT)
    extrude(amount=F2_DEPTH)

    # F3 (on face) → F4 (join)
    with BuildSketch(Plane(origin=(0, 0, 0), x_dir=(-1, 0, 0), z_dir=(0, 1, 0))):
        with Locations((38.298364, 37.441852)):
            Circle(F3_R)
    extrude(amount=F4_DEPTH)


solid = f1.part
